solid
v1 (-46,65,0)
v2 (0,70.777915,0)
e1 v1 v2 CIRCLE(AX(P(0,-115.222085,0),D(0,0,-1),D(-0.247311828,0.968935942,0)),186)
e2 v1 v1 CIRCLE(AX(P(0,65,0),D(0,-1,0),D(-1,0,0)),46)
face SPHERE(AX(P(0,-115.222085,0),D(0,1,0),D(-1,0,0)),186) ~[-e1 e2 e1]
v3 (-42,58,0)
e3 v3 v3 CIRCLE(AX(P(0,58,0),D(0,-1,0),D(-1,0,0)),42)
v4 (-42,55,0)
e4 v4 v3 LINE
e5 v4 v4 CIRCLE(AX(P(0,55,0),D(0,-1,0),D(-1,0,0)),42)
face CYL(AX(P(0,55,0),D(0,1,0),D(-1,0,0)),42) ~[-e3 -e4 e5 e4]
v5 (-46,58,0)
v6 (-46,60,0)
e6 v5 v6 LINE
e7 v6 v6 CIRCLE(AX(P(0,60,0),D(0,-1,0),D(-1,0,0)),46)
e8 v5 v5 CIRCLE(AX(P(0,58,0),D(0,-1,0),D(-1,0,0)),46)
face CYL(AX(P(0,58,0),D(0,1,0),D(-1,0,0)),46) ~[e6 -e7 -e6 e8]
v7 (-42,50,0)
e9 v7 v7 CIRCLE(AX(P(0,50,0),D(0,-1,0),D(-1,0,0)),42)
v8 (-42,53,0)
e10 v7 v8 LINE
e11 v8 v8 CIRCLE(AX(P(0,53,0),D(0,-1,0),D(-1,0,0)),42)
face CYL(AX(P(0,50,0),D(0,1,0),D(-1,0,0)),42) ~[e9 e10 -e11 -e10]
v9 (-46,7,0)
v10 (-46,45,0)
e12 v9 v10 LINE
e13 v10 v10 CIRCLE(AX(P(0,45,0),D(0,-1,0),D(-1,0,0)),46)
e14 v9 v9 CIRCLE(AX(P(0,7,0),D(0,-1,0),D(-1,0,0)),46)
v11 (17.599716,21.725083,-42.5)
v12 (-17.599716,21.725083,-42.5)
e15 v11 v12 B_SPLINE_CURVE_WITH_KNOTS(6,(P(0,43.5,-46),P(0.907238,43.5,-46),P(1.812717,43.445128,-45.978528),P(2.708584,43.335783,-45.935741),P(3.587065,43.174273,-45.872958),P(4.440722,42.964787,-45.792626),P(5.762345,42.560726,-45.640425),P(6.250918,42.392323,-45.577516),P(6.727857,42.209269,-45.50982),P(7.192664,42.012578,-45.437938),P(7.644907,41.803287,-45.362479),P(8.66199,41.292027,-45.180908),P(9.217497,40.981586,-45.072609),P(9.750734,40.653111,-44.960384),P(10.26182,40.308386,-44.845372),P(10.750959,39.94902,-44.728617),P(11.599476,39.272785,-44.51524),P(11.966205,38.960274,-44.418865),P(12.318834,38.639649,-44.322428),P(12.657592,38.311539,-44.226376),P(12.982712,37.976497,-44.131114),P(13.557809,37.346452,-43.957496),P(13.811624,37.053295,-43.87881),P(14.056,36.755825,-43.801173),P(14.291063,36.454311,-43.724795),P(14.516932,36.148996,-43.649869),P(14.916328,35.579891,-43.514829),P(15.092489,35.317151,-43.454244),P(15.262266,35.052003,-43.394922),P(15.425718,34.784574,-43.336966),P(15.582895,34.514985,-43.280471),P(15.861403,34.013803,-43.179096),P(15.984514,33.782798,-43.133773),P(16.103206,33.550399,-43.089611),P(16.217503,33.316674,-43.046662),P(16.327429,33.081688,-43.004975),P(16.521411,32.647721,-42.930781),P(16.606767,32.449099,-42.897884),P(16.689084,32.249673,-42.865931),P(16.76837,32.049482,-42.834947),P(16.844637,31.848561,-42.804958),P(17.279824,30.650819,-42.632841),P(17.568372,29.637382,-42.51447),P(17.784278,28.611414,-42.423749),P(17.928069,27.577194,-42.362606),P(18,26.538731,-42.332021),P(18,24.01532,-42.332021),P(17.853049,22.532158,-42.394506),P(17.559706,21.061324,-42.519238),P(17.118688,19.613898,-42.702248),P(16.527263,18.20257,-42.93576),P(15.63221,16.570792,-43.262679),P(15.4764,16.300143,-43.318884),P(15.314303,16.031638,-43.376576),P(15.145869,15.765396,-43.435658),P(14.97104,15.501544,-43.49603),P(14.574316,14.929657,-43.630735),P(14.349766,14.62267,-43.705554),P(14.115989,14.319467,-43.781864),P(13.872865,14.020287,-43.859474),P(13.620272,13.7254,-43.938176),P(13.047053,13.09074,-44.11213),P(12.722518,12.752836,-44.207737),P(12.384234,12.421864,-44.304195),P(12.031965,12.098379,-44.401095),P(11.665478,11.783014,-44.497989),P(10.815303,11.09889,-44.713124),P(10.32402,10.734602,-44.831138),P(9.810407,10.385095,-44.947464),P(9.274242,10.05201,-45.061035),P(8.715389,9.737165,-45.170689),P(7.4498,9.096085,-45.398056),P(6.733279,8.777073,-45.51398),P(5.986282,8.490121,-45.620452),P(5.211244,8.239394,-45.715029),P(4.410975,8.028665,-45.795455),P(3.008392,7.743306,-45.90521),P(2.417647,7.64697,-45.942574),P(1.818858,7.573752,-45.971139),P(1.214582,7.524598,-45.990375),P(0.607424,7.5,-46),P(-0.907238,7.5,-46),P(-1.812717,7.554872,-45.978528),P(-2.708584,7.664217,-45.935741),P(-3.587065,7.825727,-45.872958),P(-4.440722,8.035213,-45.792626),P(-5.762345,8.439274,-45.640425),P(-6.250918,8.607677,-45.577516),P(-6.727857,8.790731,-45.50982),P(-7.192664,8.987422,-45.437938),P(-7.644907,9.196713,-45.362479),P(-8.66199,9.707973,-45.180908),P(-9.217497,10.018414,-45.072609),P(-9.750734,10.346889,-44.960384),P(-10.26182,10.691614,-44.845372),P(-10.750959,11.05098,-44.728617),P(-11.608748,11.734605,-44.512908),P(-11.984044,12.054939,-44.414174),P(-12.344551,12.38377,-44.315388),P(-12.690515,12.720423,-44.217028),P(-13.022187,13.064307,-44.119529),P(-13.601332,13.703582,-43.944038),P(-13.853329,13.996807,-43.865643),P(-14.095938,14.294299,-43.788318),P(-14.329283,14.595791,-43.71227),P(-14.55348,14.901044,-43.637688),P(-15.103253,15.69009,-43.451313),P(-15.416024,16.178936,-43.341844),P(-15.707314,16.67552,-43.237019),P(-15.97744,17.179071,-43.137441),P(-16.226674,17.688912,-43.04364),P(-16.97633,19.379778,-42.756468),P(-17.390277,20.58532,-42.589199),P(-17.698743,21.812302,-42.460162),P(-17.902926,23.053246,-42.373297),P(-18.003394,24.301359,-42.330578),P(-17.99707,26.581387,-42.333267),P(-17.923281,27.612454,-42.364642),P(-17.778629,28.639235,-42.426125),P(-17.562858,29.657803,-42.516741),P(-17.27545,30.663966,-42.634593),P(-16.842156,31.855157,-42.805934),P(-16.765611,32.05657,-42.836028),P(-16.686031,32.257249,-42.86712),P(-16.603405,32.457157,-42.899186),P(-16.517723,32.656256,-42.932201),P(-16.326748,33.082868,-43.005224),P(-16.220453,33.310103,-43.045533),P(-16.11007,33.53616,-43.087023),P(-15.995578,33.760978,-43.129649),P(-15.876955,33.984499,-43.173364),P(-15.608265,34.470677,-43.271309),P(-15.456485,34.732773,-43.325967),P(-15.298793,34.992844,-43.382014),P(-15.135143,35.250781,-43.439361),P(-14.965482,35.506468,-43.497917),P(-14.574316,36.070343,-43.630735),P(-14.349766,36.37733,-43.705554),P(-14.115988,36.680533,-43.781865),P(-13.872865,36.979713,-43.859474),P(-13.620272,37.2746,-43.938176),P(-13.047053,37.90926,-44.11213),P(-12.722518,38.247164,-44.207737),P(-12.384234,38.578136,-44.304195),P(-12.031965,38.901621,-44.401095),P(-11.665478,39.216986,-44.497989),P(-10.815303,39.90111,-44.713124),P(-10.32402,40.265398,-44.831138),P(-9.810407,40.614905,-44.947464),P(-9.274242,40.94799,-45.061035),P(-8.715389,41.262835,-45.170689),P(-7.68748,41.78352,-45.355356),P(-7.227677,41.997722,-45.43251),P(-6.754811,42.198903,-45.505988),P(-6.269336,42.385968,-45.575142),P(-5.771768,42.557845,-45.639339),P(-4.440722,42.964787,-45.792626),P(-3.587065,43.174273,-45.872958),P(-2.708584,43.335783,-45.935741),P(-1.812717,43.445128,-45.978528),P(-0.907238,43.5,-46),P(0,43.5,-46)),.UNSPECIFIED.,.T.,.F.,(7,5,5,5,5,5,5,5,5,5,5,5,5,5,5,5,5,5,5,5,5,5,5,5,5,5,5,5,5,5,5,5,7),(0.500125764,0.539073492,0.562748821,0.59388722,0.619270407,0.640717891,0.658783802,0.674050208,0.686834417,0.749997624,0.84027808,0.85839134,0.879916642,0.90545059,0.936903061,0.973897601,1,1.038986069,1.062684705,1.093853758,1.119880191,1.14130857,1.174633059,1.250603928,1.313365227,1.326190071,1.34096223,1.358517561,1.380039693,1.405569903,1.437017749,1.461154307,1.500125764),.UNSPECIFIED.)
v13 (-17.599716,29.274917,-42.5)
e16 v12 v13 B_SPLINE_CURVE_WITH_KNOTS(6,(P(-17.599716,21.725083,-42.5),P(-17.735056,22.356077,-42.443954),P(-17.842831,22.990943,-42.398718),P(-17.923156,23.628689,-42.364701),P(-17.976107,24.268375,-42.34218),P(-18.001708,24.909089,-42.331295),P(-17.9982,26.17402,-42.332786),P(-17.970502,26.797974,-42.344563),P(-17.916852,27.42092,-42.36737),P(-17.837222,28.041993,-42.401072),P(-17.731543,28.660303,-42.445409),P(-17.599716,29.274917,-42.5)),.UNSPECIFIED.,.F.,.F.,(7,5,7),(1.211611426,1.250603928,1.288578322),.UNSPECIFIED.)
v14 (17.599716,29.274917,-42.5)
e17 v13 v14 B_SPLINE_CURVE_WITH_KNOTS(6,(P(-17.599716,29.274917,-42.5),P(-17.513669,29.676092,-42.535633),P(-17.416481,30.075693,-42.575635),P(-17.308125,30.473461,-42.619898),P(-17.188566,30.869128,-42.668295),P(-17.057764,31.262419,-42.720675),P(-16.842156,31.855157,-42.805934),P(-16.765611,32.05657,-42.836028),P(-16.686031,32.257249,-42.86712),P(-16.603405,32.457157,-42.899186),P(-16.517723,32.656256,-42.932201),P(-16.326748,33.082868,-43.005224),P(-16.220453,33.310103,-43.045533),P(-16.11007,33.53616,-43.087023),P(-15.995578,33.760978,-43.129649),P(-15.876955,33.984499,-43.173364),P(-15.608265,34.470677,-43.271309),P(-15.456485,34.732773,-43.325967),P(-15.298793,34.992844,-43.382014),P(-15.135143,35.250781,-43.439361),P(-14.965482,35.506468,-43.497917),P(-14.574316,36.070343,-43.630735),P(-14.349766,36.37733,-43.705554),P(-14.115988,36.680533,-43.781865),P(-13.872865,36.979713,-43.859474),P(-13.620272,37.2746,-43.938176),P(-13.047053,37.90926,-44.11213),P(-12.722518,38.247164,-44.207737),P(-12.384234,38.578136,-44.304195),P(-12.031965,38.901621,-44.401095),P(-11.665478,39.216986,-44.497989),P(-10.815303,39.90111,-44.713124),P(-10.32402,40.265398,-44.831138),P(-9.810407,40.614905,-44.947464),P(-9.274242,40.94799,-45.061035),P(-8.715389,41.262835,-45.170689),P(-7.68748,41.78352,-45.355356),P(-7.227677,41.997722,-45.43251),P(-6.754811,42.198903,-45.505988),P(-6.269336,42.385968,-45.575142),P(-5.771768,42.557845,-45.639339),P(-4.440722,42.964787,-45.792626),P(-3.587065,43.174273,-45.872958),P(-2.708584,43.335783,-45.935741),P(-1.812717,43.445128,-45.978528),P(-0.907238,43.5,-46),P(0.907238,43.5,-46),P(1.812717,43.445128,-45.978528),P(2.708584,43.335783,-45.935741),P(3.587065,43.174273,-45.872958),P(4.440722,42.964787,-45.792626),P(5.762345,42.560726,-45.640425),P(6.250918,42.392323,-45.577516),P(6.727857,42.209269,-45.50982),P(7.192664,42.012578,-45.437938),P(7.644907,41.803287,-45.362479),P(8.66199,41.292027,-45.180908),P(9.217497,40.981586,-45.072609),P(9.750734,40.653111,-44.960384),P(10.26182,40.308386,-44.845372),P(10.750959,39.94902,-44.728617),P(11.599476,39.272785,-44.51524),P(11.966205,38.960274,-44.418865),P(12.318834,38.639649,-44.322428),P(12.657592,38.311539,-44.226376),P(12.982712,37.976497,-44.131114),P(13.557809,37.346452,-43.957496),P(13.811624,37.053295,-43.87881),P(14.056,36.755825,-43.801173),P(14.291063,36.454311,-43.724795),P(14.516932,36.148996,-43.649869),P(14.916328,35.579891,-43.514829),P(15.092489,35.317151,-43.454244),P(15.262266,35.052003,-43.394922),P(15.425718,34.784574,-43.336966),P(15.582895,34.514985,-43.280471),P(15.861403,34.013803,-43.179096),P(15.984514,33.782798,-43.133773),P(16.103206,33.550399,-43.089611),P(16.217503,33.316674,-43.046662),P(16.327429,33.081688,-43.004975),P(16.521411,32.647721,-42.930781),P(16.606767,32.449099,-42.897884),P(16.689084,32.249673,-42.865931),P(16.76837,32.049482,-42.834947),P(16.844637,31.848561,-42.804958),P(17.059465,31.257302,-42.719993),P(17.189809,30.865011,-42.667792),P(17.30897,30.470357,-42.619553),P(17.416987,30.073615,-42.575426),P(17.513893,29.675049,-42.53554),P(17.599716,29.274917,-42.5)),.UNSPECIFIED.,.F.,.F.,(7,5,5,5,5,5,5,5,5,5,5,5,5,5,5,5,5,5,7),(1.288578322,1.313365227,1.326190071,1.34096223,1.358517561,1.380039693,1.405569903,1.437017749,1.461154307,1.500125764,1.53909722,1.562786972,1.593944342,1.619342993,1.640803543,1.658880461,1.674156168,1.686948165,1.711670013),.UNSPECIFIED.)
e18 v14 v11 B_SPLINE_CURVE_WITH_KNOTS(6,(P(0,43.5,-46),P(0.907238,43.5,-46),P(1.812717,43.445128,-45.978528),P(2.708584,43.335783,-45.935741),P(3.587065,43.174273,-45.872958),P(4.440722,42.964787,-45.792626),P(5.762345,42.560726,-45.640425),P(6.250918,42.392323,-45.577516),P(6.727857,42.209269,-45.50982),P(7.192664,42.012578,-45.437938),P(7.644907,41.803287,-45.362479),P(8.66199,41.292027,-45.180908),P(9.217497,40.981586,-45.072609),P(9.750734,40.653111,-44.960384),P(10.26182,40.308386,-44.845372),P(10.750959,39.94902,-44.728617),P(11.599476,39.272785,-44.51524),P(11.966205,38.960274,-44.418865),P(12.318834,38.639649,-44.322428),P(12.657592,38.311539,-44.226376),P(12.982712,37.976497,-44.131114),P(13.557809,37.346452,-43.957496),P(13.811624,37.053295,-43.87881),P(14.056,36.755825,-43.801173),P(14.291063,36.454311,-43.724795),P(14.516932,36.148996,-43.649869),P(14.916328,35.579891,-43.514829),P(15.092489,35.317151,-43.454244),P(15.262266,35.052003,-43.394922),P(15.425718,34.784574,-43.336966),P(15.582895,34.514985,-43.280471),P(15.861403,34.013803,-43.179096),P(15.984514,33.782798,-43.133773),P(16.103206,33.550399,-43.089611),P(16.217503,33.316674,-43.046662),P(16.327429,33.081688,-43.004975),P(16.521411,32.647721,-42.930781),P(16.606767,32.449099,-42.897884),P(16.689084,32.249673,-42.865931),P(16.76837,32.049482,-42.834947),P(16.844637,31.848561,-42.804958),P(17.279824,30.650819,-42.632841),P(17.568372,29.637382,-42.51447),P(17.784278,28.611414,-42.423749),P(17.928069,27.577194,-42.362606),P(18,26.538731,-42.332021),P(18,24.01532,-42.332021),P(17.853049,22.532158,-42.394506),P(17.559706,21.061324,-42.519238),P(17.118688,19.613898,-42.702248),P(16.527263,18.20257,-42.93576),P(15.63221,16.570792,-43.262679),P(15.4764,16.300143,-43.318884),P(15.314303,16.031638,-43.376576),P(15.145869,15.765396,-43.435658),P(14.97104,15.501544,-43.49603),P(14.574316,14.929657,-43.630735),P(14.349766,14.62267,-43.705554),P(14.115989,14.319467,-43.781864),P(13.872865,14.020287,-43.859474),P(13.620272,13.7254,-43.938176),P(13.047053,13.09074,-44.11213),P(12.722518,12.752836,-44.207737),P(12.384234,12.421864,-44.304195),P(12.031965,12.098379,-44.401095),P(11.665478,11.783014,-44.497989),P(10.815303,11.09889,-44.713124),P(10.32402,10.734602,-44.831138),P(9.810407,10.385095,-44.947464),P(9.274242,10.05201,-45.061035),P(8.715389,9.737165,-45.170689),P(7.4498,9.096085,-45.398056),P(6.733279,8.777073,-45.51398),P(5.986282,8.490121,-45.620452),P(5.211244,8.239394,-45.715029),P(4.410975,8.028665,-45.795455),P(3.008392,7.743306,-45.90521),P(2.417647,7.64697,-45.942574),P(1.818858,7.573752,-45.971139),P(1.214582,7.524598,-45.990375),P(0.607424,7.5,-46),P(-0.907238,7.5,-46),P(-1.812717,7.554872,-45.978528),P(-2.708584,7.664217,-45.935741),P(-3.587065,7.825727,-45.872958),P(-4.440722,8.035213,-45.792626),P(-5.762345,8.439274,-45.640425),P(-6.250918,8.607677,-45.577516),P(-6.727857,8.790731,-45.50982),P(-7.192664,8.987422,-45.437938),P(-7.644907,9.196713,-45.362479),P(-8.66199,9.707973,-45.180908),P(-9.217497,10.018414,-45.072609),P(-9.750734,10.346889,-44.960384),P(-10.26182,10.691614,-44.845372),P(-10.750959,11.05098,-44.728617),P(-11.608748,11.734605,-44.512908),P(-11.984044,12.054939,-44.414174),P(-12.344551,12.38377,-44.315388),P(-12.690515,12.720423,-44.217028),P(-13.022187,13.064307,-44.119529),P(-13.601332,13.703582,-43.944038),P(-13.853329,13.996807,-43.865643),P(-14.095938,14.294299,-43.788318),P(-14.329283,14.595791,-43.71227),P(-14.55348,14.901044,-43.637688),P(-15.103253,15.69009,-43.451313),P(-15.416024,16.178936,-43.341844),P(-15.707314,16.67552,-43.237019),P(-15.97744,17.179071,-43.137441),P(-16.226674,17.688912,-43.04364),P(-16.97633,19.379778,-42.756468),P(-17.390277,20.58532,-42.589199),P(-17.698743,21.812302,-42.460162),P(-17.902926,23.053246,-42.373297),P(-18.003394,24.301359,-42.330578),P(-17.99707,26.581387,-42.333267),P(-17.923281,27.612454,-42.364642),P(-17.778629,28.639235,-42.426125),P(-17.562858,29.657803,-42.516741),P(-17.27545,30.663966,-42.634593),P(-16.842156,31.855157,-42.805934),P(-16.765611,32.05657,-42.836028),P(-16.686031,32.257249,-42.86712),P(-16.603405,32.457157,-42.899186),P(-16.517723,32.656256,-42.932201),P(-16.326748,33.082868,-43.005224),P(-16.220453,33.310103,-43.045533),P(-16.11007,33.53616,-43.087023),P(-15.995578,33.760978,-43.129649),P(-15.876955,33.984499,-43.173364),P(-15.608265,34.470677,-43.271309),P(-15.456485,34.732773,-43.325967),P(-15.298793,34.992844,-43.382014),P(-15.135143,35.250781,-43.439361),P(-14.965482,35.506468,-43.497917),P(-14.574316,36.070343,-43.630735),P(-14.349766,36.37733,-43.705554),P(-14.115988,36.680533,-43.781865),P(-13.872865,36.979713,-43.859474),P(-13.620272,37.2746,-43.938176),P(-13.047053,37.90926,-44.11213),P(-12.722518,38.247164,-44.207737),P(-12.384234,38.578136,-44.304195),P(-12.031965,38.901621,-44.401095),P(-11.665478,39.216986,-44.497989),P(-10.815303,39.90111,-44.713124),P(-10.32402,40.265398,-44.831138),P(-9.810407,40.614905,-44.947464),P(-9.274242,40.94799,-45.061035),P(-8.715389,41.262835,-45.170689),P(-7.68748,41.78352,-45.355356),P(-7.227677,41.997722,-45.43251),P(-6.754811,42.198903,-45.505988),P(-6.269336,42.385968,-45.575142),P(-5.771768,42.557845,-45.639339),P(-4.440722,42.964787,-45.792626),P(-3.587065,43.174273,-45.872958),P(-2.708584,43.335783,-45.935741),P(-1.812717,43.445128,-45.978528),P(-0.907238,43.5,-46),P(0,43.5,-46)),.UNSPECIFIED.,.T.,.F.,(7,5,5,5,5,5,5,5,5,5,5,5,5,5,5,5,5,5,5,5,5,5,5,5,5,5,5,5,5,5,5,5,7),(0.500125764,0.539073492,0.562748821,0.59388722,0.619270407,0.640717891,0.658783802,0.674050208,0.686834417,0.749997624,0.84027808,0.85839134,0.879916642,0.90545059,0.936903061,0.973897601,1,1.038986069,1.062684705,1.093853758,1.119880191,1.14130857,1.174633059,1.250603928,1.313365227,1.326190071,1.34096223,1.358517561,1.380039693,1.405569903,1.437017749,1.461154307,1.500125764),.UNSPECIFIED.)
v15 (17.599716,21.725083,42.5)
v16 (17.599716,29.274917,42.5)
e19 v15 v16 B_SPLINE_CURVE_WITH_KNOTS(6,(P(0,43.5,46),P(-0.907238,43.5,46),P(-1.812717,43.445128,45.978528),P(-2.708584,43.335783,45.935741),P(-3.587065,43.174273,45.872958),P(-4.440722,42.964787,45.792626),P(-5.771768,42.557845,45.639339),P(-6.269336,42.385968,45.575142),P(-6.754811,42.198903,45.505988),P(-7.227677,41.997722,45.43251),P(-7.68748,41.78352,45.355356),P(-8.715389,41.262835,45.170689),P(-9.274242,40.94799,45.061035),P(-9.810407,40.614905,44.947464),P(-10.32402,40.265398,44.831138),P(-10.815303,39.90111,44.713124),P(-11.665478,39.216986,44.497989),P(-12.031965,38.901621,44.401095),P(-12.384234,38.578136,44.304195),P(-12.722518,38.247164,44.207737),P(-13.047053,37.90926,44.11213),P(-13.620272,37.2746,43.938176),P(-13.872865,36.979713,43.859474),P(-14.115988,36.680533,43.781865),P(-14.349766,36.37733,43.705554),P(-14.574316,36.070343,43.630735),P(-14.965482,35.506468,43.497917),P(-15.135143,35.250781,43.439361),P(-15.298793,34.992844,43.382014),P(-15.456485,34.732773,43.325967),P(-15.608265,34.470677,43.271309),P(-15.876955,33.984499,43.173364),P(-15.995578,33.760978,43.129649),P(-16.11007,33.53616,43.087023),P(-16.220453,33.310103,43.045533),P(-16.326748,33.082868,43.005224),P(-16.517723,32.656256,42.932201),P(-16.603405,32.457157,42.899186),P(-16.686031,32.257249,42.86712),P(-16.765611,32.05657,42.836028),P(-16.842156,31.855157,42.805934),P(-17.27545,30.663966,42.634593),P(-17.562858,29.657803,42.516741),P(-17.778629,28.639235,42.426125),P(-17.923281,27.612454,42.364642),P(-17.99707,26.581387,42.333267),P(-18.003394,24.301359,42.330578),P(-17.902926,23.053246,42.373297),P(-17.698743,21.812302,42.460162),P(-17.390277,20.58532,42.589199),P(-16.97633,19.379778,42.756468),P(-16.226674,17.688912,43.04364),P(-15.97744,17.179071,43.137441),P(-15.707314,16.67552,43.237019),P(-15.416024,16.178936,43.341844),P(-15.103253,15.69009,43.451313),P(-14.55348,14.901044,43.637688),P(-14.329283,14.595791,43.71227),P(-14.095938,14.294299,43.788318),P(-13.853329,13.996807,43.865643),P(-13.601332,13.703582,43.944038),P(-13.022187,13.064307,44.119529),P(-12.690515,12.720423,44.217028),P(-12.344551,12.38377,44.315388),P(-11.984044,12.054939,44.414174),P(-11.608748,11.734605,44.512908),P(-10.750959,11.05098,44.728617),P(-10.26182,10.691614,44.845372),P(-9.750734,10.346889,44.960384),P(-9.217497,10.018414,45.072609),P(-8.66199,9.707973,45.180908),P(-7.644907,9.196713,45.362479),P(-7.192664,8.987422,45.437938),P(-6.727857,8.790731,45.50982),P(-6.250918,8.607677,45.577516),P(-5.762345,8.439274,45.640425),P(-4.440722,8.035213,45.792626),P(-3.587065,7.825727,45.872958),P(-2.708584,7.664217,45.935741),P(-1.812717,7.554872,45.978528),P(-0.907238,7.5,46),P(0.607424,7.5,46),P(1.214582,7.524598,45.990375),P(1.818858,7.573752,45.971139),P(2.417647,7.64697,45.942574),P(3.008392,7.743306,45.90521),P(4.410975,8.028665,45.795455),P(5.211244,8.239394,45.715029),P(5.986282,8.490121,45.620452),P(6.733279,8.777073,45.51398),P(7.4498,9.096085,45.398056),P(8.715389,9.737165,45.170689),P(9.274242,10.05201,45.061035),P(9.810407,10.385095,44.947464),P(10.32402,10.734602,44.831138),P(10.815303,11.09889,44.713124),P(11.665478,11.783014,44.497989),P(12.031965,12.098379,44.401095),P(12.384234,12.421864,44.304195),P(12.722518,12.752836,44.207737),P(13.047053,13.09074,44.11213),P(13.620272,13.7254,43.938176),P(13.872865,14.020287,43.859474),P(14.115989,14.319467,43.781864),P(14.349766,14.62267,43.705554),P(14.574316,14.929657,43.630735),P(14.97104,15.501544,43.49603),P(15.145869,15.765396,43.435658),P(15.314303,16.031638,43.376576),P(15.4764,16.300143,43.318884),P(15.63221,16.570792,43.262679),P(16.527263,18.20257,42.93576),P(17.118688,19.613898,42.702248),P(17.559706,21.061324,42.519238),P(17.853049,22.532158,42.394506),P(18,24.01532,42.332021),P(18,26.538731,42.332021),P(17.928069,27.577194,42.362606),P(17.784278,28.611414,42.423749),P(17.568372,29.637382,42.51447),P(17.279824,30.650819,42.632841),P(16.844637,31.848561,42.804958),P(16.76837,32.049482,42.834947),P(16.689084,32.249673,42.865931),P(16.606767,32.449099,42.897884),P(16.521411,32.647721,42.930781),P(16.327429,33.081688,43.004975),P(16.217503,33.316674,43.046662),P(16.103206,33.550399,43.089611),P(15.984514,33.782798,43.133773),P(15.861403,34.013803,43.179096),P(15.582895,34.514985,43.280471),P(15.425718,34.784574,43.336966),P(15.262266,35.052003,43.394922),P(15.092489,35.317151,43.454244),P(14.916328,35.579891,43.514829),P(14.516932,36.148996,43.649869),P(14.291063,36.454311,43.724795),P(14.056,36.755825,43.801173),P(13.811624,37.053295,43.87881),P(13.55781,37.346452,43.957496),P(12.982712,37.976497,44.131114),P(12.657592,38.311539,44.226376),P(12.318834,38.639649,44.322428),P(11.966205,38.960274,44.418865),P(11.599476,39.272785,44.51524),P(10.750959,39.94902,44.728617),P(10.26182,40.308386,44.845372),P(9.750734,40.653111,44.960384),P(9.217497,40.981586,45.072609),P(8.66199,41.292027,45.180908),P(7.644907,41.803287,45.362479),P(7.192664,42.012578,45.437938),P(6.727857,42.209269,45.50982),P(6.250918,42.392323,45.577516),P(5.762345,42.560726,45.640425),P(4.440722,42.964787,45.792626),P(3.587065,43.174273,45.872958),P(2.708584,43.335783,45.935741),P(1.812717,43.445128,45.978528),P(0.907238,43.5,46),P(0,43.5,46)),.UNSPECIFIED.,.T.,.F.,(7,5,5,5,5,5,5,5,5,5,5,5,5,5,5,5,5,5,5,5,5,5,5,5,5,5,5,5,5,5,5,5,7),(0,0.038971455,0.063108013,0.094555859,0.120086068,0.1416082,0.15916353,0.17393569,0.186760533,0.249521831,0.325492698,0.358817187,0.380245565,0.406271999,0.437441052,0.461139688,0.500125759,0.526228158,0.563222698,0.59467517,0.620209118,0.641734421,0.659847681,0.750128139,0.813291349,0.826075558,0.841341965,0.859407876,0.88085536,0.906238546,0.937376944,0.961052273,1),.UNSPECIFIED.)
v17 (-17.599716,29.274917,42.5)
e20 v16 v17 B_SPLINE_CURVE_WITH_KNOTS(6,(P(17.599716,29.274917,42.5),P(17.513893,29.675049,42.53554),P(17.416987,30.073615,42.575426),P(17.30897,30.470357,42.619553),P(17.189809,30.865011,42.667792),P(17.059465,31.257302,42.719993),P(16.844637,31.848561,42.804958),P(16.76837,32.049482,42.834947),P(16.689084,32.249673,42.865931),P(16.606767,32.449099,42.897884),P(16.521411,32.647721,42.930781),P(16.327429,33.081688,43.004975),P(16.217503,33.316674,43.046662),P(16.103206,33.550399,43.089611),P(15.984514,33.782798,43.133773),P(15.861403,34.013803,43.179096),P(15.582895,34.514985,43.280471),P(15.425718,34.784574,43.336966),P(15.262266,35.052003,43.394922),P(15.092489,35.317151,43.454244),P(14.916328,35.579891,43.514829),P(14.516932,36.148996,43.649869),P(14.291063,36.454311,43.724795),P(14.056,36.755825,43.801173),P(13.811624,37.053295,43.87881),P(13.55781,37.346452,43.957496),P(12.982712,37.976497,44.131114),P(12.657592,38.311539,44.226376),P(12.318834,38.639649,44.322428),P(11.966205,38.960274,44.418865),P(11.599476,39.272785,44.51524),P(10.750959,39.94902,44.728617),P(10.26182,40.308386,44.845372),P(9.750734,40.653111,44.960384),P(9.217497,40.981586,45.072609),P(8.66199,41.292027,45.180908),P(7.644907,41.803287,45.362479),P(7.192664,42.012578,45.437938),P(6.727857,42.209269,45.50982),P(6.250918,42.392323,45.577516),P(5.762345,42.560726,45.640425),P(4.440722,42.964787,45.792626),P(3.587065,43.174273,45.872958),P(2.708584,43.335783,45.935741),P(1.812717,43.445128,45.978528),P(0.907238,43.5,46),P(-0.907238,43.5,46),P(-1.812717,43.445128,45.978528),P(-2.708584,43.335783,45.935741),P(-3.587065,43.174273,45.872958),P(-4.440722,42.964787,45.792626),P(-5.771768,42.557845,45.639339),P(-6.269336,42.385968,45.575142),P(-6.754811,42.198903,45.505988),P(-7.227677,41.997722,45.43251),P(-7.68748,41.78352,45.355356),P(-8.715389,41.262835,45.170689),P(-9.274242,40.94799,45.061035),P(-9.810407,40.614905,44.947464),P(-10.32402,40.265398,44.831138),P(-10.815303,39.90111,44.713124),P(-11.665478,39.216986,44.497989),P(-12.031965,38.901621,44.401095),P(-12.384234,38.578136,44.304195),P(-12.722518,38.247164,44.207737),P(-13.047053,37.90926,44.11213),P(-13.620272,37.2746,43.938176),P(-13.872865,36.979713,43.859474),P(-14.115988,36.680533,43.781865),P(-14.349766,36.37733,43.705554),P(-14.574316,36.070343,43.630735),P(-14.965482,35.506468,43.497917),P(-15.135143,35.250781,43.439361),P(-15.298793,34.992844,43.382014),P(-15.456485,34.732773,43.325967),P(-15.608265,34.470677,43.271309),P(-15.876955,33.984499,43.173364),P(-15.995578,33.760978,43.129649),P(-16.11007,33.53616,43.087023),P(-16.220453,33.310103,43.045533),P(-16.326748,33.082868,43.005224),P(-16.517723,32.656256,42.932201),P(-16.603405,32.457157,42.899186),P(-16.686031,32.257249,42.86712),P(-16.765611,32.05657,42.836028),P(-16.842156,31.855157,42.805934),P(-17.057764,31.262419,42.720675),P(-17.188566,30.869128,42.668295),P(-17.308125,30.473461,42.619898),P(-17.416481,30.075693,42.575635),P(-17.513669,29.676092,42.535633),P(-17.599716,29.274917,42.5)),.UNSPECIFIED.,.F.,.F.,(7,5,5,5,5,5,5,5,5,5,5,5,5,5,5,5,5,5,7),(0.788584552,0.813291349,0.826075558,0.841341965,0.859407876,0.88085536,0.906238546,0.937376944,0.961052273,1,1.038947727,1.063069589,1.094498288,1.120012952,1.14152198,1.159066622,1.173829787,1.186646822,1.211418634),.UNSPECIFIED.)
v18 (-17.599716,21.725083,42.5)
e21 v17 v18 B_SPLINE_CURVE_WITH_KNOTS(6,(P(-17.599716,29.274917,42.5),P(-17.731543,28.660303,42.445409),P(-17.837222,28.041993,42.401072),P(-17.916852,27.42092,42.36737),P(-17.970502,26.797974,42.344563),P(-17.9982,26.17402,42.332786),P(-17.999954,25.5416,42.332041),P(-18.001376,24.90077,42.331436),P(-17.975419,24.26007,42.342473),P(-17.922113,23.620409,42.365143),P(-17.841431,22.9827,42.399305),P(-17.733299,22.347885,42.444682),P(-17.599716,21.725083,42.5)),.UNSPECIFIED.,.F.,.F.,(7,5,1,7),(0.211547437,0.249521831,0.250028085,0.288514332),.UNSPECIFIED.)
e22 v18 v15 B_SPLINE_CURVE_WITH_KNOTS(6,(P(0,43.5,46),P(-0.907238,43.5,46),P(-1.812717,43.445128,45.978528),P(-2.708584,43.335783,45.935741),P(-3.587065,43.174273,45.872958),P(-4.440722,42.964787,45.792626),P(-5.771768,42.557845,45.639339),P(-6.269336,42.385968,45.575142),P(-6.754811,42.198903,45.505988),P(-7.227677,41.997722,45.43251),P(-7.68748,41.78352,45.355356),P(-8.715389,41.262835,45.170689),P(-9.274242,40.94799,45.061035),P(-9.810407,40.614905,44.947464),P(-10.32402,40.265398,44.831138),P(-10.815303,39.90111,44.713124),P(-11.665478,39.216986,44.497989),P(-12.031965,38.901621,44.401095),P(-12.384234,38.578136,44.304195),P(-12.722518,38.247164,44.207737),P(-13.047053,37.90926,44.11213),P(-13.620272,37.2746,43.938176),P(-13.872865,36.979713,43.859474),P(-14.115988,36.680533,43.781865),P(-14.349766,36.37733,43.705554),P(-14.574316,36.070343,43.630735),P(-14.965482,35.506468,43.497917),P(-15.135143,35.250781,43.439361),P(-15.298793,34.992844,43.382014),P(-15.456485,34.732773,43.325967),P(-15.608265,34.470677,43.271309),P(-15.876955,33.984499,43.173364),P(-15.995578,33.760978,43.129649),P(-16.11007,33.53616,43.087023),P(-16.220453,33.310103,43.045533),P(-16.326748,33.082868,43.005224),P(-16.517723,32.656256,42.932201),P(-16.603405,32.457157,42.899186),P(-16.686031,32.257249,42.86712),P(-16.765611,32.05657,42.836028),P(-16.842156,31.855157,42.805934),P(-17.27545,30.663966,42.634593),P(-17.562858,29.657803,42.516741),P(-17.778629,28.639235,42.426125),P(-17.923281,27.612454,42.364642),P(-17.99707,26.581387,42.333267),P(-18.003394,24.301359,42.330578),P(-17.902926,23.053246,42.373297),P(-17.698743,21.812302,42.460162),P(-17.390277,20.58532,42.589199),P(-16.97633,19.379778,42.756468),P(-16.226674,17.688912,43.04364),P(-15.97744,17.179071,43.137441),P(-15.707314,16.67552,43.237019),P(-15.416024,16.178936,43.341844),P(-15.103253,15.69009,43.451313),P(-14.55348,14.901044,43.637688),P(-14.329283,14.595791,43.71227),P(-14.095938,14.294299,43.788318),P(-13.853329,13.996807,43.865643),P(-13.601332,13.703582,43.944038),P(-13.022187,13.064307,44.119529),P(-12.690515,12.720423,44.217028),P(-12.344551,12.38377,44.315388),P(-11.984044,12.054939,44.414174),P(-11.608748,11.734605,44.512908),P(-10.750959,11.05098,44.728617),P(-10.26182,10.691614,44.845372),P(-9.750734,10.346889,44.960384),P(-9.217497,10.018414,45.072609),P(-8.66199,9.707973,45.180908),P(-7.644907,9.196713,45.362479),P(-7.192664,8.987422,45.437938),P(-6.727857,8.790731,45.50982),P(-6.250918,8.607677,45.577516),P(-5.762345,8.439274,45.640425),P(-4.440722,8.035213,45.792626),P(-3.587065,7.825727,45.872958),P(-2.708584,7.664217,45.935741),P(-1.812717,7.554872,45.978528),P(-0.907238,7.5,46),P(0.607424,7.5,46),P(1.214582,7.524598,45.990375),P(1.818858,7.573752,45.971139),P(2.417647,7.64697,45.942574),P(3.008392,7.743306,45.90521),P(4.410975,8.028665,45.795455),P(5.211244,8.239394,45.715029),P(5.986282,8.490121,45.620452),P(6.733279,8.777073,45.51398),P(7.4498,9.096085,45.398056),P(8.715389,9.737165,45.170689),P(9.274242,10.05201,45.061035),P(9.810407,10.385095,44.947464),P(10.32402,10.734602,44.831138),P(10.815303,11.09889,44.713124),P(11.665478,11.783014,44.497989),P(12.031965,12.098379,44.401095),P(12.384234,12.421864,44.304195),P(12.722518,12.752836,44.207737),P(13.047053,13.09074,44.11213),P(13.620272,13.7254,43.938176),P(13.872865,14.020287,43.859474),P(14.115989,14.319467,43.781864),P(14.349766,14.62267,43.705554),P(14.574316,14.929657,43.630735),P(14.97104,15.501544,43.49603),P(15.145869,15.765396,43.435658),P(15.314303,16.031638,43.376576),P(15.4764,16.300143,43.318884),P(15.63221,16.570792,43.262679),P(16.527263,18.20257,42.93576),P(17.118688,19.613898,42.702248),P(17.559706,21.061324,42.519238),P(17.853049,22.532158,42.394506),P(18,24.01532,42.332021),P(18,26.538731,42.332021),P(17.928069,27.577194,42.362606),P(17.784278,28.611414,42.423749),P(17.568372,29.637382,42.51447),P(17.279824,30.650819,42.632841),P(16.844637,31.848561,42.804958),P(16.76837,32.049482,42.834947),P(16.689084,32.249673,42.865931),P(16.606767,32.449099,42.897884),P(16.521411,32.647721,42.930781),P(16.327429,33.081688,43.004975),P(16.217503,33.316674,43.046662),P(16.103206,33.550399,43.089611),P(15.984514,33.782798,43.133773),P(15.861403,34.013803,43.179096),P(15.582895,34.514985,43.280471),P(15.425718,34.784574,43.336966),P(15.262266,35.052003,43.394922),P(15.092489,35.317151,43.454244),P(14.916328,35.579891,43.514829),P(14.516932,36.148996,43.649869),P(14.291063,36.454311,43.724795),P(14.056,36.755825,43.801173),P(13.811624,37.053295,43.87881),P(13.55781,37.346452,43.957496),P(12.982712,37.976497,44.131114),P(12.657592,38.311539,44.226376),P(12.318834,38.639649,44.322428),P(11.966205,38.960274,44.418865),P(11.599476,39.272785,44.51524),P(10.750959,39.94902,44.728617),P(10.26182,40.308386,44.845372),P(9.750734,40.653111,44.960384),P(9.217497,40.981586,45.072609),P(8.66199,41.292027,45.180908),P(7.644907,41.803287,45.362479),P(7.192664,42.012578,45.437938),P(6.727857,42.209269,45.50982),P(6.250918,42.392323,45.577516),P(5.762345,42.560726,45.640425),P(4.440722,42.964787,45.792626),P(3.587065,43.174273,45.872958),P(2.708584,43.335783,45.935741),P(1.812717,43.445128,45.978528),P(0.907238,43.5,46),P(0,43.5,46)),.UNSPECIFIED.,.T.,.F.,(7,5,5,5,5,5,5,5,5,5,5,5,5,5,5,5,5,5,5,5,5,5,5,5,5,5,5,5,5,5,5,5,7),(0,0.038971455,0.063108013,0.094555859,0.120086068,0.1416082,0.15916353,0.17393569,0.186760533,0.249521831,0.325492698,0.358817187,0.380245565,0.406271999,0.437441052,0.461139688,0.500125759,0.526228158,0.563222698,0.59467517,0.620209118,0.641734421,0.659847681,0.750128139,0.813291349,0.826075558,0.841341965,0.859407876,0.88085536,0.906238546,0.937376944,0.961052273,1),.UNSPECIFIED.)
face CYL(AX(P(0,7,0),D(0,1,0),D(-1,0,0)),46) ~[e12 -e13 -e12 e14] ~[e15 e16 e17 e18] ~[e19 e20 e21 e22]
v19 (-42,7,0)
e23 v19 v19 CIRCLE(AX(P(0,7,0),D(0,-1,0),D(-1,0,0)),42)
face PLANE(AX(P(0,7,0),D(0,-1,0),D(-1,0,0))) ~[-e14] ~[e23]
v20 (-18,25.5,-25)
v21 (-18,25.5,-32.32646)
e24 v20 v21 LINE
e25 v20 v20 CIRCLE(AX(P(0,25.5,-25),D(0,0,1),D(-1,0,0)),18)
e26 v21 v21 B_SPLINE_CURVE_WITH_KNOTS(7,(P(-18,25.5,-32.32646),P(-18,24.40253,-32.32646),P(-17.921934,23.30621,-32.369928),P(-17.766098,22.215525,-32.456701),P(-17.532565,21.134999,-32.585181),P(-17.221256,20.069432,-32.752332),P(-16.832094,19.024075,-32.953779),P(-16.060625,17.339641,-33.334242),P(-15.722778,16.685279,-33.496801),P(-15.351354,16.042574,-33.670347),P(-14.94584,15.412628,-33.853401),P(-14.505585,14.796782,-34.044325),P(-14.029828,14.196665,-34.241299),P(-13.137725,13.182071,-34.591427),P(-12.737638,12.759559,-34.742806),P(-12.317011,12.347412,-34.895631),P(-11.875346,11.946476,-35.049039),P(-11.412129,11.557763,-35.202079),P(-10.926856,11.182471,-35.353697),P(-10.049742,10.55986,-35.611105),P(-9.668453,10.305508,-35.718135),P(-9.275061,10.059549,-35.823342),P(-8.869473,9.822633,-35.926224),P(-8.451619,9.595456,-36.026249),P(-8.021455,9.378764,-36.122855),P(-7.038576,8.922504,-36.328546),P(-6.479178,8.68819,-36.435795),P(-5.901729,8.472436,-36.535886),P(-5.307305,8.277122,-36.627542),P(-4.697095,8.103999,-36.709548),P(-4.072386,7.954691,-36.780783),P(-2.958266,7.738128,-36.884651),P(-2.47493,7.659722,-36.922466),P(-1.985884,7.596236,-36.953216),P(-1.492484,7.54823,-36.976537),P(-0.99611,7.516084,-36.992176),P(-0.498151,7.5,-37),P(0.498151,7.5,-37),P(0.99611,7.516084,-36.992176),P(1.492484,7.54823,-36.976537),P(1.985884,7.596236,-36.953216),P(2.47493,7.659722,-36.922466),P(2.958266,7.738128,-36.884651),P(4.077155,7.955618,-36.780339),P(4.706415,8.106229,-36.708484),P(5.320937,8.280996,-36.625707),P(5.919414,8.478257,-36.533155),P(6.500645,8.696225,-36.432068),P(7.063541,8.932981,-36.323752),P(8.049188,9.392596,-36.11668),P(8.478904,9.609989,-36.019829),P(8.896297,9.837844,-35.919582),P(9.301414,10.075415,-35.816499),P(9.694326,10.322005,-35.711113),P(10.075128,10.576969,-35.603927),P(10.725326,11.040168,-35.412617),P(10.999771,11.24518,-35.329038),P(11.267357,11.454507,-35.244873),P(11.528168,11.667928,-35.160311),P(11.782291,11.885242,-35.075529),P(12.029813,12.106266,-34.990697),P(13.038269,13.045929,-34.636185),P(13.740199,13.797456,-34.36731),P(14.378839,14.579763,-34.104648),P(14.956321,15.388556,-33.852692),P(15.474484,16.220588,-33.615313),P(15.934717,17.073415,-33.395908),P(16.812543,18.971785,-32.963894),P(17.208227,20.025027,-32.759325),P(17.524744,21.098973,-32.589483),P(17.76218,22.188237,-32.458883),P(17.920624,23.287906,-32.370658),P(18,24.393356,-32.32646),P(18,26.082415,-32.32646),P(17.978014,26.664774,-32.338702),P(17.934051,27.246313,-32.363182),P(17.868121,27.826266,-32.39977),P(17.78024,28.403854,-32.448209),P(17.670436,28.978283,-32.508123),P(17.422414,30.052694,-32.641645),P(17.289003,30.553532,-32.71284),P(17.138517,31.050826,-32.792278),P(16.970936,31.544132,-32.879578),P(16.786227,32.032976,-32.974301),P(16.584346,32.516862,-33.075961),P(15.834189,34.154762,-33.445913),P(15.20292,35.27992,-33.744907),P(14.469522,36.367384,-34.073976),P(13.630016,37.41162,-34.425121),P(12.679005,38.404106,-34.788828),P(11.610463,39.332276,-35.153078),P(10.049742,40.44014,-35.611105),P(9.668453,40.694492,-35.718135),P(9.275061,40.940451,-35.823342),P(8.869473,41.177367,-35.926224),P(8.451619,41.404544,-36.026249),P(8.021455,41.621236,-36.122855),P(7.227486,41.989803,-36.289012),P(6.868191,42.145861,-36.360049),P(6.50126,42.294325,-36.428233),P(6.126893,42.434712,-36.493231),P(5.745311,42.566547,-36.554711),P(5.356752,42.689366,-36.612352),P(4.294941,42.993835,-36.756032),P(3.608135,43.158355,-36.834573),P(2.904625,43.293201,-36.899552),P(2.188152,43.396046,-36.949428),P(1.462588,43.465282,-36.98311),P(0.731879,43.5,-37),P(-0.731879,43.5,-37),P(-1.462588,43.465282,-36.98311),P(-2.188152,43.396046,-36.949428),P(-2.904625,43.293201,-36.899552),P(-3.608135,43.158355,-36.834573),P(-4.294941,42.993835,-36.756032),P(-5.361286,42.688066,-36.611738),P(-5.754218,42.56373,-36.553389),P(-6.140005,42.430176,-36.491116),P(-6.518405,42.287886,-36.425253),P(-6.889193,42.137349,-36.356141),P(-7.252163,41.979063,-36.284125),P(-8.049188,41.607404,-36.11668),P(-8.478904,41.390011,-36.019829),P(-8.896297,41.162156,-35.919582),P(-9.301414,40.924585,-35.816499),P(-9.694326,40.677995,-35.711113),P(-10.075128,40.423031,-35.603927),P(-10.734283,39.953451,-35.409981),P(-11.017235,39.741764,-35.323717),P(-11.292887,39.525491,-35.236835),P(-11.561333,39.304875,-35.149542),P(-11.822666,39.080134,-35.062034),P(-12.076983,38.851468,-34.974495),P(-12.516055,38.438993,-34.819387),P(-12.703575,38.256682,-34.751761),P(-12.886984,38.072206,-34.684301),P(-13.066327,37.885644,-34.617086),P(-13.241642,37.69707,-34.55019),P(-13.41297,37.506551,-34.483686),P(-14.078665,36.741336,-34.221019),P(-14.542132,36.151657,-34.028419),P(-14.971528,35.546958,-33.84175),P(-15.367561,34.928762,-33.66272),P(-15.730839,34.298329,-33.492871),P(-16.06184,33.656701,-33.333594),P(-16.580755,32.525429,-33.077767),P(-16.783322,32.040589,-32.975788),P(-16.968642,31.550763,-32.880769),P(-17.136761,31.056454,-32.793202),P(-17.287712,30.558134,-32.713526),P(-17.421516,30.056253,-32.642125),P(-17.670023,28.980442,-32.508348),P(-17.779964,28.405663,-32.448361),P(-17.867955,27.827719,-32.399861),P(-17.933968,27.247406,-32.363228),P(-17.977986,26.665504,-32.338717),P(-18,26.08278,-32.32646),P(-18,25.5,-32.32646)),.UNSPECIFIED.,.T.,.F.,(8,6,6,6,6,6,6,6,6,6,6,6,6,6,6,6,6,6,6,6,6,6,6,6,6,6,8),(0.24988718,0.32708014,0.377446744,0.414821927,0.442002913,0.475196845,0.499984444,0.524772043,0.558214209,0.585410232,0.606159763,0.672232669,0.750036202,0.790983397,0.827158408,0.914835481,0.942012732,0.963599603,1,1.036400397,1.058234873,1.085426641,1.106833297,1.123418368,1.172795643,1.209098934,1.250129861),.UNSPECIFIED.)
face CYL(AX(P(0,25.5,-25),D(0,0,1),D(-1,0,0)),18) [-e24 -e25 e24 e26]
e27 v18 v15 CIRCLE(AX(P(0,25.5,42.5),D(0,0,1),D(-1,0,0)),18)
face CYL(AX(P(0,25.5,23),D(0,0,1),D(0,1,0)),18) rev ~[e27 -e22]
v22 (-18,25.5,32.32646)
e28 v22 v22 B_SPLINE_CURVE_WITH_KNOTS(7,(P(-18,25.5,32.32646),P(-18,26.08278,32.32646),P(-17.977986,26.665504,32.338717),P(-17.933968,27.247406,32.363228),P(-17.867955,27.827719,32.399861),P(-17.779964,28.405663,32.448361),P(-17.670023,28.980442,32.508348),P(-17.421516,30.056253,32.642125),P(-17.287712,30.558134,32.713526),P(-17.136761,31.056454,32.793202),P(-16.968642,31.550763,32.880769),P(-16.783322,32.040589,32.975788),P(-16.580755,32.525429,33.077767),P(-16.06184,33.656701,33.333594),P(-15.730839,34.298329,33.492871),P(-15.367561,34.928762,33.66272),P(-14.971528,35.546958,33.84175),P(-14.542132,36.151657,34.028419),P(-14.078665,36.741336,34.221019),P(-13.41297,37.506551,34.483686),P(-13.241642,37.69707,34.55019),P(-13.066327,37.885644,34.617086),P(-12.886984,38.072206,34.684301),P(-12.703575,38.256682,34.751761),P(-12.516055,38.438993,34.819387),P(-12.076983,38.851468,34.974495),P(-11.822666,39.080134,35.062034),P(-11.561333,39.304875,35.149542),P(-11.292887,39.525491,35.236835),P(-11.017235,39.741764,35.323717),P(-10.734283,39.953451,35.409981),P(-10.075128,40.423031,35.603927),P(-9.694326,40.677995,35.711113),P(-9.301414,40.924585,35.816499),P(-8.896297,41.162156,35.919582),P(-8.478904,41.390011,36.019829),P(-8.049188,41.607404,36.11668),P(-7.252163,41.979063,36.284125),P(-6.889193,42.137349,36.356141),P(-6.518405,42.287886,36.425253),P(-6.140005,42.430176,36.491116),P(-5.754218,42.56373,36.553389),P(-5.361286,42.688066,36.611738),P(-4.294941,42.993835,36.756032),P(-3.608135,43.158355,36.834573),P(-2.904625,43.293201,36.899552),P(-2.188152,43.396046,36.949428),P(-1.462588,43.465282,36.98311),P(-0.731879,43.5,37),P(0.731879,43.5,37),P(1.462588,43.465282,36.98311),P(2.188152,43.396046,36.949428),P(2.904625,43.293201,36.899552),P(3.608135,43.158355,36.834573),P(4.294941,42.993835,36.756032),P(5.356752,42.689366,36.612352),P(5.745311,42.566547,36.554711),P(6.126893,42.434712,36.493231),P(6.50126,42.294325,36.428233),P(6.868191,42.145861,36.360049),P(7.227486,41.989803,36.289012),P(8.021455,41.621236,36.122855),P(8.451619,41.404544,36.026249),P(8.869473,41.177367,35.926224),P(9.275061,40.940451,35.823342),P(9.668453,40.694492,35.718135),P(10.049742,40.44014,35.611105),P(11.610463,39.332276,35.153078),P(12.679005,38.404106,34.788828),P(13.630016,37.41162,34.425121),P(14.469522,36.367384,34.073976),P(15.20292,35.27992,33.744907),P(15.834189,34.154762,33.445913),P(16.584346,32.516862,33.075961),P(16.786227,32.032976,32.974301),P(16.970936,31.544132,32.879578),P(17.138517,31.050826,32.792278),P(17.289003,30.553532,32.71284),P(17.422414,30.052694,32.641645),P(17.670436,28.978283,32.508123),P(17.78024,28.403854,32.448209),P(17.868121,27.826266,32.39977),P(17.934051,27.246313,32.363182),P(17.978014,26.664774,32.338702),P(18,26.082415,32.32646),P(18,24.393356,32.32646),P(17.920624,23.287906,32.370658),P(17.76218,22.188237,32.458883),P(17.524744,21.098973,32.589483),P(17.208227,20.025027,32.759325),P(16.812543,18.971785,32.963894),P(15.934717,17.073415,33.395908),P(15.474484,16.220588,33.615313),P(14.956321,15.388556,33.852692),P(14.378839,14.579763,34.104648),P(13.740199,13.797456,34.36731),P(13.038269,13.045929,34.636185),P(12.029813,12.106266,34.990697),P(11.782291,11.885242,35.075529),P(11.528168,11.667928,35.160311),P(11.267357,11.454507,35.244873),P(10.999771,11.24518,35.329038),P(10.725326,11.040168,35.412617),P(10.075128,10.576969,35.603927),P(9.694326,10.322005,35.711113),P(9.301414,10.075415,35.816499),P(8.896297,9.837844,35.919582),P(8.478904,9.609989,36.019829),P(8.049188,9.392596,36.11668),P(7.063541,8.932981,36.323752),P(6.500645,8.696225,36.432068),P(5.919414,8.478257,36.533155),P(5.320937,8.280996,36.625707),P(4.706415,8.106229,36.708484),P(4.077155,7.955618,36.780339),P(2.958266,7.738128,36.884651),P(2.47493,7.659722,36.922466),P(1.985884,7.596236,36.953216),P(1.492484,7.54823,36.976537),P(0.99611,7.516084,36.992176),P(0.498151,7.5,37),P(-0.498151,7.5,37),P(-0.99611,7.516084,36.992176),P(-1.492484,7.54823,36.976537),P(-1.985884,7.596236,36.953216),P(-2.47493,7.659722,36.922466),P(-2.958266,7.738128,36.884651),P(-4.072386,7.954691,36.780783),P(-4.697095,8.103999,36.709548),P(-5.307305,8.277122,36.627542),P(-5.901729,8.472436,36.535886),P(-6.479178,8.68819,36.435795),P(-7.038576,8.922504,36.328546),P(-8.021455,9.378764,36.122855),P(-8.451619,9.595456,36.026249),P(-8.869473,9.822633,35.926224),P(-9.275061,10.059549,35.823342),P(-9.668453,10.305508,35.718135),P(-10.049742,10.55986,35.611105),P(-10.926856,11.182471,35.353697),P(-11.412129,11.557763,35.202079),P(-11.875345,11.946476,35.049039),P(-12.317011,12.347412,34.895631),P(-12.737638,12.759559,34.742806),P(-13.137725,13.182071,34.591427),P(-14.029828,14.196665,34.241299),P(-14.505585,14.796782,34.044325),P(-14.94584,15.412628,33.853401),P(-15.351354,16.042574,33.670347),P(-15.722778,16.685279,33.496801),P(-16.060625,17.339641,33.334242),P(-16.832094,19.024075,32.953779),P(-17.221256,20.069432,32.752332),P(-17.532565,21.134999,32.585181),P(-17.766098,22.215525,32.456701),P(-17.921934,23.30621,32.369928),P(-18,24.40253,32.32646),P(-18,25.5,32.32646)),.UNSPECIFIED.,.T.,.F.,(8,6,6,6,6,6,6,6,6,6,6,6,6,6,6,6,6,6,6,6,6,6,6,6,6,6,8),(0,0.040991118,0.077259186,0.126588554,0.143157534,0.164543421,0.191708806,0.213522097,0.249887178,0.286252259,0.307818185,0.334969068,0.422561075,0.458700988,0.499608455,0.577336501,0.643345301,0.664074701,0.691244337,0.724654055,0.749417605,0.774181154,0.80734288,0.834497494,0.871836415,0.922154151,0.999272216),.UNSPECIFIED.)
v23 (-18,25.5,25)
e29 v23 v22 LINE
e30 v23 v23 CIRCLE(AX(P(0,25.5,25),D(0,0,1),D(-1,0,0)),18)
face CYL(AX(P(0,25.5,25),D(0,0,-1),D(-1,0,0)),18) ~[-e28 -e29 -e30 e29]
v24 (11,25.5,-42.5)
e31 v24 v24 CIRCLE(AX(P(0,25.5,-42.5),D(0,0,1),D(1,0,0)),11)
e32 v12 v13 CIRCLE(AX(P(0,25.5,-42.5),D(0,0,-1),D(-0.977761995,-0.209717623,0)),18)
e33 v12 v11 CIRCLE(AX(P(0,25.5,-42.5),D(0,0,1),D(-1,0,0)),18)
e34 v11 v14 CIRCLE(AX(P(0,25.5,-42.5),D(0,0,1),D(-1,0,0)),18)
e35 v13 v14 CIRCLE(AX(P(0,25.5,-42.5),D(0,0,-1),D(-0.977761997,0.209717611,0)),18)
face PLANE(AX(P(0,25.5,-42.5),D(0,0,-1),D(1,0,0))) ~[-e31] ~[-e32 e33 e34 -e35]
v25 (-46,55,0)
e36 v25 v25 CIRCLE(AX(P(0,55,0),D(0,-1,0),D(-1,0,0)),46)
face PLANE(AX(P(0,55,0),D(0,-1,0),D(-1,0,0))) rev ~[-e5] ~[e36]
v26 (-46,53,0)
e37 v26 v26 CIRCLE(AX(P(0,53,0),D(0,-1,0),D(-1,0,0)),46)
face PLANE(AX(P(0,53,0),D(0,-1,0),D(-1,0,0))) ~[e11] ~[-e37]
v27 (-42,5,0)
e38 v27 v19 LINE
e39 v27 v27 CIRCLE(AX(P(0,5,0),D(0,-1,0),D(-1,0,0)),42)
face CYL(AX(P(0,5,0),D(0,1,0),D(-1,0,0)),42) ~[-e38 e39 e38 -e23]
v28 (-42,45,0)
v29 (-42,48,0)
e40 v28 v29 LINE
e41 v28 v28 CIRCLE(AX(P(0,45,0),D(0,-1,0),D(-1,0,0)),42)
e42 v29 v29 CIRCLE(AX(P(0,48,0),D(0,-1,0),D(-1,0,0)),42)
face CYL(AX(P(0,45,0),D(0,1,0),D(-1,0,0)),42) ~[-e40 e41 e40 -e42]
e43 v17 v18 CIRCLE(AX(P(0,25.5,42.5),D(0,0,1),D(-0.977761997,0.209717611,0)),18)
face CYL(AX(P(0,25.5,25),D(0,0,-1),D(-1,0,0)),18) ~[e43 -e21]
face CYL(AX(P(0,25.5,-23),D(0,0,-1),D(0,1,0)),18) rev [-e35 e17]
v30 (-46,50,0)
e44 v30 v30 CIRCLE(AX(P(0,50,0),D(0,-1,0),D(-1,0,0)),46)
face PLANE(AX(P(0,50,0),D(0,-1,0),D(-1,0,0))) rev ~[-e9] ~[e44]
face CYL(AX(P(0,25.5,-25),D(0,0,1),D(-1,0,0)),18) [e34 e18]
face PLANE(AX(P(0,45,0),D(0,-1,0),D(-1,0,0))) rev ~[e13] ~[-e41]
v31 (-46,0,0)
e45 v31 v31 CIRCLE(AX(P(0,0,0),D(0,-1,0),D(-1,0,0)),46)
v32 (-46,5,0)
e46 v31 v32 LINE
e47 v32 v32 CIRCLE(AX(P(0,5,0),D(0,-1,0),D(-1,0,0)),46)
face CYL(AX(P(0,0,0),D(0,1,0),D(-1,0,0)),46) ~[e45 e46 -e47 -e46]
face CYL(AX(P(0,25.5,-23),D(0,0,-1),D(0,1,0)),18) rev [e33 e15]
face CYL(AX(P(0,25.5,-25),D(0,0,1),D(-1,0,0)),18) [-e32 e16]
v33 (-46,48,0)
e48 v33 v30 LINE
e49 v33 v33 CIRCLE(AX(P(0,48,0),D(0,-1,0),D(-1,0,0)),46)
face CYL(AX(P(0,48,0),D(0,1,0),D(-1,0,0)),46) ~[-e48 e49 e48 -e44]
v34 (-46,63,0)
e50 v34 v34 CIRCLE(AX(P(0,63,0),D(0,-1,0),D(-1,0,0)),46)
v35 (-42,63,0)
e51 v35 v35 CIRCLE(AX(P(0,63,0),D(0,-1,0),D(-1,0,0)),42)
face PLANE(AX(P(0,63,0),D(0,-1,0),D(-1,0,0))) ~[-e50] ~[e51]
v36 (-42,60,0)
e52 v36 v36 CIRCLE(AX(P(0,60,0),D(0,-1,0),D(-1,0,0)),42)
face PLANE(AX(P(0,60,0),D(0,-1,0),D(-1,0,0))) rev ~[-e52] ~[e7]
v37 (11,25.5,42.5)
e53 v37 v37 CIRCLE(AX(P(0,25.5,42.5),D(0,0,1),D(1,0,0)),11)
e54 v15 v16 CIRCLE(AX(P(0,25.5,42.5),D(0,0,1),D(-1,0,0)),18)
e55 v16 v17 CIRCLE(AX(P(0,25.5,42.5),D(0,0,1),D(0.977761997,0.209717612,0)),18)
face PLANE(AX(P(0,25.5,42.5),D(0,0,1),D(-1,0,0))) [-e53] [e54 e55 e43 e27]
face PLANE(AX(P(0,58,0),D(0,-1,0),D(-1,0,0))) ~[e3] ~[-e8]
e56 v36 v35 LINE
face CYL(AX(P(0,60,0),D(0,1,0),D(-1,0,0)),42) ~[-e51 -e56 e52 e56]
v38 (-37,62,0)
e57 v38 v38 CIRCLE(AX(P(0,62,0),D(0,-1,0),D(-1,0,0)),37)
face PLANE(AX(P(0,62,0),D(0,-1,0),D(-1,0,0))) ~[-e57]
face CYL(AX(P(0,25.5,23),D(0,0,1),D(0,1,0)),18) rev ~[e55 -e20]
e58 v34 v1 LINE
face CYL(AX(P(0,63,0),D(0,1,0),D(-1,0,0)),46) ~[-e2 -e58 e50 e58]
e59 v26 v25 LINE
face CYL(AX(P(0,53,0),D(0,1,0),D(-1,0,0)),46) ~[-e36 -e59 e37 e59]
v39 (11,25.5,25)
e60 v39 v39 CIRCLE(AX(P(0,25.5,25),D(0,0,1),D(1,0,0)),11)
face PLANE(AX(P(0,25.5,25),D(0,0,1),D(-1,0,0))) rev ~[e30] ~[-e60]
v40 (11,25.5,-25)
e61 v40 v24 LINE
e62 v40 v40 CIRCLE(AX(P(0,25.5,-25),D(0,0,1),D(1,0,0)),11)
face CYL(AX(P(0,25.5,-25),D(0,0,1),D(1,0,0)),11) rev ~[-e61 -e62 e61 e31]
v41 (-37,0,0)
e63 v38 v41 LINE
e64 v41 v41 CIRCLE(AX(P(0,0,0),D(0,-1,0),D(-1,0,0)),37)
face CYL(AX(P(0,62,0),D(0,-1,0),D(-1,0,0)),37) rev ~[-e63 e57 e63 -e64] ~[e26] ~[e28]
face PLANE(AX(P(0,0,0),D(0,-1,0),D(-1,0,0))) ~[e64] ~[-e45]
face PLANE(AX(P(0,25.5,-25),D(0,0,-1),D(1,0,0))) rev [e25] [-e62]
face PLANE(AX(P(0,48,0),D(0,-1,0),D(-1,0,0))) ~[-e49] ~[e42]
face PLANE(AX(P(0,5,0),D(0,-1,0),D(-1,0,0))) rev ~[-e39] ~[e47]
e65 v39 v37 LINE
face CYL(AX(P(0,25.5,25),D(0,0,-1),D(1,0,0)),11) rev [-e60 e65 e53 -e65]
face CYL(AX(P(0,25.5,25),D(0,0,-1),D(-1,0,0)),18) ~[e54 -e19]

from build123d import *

# Parameters (mm, degrees)
SKETCH7_W           = 18
SKETCH7_H           = 46
SKETCH8_R           = 18
SKETCH8_R_2         = 11
BOSS_EXTRUDE1_DEPTH = 17.5


with BuildPart() as part:
    # Sketch1 → Revolve1 (revolve)
    with BuildSketch(Plane.XY, mode=Mode.PRIVATE) as revolve1_sk:
        with BuildLine():
            Line((37, 0), (46, 0))
            Line((46, 0), (46, 5))
            Line((46, 5), (42, 5))
            Line((42, 5), (42, 7))
            Line((42, 7), (46, 7))
            Line((46, 7), (46, 45))
            Line((46, 45), (42, 45))
            Line((42, 45), (42, 48))
            Line((42, 48), (46, 48))
            Line((46, 48), (46, 50))
            Line((46, 50), (42, 50))
            Line((42, 50), (42, 53))
            Line((42, 53), (46, 53))
            Line((46, 53), (46, 55))
            Line((46, 55), (42, 55))
            Line((42, 55), (42, 58))
            Line((42, 58), (46, 58))
            Line((46, 58), (46, 60))
            Line((46, 60), (42, 60))
            Line((42, 60), (42, 63))
            Line((42, 63), (46, 63))
            Line((46, 63), (46, 65))
            ThreePointArc((46, 65), (23.180726365, 69.327783179), (0, 70.777914783))
            Line((0, 70.777914783), (0, 62))
            Line((0, 62), (37, 62))
            Line((37, 62), (37, 0))
        make_face()
    revolve(revolve1_sk.sketch.rotate(Axis((0, 70.777914783, 0), (0, -1, 0)), 180), axis=Axis((0, 70.777914783, 0), (0, -1, 0)))

    # Sketch7 → Ø12.0mm Dowel Hole3 (revolve, cut)
    with BuildSketch(Plane(origin=(0, 25.5, 0), x_dir=(0, 1, 0), z_dir=(1, 0, 0))):
        with Locations((9, 23)):
            Rectangle(SKETCH7_W, SKETCH7_H)
    f_12_0mm_dowel_hole3 = revolve(axis=Axis((0, 25.5, -6.35), (0, 0, 1)), mode=Mode.SUBTRACT)

    # Sketch8 → Boss-Extrude1 (add)
    with BuildSketch(Plane.XY.offset(25)):
        with Locations(Location((0, 25.5, 0), (0, 0, 180))):
            Circle(SKETCH8_R)
        with Locations((0, 25.5)):
            Circle(SKETCH8_R_2, mode=Mode.SUBTRACT)
    boss_extrude1 = extrude(amount=BOSS_EXTRUDE1_DEPTH)

    # Mirror1: Ø12.0mm Dowel Hole3, Boss-Extrude1 across plane
    add(f_12_0mm_dowel_hole3.mirror(Plane.XY), mode=Mode.SUBTRACT)
    add(boss_extrude1.mirror(Plane.XY))


solid = part.part
